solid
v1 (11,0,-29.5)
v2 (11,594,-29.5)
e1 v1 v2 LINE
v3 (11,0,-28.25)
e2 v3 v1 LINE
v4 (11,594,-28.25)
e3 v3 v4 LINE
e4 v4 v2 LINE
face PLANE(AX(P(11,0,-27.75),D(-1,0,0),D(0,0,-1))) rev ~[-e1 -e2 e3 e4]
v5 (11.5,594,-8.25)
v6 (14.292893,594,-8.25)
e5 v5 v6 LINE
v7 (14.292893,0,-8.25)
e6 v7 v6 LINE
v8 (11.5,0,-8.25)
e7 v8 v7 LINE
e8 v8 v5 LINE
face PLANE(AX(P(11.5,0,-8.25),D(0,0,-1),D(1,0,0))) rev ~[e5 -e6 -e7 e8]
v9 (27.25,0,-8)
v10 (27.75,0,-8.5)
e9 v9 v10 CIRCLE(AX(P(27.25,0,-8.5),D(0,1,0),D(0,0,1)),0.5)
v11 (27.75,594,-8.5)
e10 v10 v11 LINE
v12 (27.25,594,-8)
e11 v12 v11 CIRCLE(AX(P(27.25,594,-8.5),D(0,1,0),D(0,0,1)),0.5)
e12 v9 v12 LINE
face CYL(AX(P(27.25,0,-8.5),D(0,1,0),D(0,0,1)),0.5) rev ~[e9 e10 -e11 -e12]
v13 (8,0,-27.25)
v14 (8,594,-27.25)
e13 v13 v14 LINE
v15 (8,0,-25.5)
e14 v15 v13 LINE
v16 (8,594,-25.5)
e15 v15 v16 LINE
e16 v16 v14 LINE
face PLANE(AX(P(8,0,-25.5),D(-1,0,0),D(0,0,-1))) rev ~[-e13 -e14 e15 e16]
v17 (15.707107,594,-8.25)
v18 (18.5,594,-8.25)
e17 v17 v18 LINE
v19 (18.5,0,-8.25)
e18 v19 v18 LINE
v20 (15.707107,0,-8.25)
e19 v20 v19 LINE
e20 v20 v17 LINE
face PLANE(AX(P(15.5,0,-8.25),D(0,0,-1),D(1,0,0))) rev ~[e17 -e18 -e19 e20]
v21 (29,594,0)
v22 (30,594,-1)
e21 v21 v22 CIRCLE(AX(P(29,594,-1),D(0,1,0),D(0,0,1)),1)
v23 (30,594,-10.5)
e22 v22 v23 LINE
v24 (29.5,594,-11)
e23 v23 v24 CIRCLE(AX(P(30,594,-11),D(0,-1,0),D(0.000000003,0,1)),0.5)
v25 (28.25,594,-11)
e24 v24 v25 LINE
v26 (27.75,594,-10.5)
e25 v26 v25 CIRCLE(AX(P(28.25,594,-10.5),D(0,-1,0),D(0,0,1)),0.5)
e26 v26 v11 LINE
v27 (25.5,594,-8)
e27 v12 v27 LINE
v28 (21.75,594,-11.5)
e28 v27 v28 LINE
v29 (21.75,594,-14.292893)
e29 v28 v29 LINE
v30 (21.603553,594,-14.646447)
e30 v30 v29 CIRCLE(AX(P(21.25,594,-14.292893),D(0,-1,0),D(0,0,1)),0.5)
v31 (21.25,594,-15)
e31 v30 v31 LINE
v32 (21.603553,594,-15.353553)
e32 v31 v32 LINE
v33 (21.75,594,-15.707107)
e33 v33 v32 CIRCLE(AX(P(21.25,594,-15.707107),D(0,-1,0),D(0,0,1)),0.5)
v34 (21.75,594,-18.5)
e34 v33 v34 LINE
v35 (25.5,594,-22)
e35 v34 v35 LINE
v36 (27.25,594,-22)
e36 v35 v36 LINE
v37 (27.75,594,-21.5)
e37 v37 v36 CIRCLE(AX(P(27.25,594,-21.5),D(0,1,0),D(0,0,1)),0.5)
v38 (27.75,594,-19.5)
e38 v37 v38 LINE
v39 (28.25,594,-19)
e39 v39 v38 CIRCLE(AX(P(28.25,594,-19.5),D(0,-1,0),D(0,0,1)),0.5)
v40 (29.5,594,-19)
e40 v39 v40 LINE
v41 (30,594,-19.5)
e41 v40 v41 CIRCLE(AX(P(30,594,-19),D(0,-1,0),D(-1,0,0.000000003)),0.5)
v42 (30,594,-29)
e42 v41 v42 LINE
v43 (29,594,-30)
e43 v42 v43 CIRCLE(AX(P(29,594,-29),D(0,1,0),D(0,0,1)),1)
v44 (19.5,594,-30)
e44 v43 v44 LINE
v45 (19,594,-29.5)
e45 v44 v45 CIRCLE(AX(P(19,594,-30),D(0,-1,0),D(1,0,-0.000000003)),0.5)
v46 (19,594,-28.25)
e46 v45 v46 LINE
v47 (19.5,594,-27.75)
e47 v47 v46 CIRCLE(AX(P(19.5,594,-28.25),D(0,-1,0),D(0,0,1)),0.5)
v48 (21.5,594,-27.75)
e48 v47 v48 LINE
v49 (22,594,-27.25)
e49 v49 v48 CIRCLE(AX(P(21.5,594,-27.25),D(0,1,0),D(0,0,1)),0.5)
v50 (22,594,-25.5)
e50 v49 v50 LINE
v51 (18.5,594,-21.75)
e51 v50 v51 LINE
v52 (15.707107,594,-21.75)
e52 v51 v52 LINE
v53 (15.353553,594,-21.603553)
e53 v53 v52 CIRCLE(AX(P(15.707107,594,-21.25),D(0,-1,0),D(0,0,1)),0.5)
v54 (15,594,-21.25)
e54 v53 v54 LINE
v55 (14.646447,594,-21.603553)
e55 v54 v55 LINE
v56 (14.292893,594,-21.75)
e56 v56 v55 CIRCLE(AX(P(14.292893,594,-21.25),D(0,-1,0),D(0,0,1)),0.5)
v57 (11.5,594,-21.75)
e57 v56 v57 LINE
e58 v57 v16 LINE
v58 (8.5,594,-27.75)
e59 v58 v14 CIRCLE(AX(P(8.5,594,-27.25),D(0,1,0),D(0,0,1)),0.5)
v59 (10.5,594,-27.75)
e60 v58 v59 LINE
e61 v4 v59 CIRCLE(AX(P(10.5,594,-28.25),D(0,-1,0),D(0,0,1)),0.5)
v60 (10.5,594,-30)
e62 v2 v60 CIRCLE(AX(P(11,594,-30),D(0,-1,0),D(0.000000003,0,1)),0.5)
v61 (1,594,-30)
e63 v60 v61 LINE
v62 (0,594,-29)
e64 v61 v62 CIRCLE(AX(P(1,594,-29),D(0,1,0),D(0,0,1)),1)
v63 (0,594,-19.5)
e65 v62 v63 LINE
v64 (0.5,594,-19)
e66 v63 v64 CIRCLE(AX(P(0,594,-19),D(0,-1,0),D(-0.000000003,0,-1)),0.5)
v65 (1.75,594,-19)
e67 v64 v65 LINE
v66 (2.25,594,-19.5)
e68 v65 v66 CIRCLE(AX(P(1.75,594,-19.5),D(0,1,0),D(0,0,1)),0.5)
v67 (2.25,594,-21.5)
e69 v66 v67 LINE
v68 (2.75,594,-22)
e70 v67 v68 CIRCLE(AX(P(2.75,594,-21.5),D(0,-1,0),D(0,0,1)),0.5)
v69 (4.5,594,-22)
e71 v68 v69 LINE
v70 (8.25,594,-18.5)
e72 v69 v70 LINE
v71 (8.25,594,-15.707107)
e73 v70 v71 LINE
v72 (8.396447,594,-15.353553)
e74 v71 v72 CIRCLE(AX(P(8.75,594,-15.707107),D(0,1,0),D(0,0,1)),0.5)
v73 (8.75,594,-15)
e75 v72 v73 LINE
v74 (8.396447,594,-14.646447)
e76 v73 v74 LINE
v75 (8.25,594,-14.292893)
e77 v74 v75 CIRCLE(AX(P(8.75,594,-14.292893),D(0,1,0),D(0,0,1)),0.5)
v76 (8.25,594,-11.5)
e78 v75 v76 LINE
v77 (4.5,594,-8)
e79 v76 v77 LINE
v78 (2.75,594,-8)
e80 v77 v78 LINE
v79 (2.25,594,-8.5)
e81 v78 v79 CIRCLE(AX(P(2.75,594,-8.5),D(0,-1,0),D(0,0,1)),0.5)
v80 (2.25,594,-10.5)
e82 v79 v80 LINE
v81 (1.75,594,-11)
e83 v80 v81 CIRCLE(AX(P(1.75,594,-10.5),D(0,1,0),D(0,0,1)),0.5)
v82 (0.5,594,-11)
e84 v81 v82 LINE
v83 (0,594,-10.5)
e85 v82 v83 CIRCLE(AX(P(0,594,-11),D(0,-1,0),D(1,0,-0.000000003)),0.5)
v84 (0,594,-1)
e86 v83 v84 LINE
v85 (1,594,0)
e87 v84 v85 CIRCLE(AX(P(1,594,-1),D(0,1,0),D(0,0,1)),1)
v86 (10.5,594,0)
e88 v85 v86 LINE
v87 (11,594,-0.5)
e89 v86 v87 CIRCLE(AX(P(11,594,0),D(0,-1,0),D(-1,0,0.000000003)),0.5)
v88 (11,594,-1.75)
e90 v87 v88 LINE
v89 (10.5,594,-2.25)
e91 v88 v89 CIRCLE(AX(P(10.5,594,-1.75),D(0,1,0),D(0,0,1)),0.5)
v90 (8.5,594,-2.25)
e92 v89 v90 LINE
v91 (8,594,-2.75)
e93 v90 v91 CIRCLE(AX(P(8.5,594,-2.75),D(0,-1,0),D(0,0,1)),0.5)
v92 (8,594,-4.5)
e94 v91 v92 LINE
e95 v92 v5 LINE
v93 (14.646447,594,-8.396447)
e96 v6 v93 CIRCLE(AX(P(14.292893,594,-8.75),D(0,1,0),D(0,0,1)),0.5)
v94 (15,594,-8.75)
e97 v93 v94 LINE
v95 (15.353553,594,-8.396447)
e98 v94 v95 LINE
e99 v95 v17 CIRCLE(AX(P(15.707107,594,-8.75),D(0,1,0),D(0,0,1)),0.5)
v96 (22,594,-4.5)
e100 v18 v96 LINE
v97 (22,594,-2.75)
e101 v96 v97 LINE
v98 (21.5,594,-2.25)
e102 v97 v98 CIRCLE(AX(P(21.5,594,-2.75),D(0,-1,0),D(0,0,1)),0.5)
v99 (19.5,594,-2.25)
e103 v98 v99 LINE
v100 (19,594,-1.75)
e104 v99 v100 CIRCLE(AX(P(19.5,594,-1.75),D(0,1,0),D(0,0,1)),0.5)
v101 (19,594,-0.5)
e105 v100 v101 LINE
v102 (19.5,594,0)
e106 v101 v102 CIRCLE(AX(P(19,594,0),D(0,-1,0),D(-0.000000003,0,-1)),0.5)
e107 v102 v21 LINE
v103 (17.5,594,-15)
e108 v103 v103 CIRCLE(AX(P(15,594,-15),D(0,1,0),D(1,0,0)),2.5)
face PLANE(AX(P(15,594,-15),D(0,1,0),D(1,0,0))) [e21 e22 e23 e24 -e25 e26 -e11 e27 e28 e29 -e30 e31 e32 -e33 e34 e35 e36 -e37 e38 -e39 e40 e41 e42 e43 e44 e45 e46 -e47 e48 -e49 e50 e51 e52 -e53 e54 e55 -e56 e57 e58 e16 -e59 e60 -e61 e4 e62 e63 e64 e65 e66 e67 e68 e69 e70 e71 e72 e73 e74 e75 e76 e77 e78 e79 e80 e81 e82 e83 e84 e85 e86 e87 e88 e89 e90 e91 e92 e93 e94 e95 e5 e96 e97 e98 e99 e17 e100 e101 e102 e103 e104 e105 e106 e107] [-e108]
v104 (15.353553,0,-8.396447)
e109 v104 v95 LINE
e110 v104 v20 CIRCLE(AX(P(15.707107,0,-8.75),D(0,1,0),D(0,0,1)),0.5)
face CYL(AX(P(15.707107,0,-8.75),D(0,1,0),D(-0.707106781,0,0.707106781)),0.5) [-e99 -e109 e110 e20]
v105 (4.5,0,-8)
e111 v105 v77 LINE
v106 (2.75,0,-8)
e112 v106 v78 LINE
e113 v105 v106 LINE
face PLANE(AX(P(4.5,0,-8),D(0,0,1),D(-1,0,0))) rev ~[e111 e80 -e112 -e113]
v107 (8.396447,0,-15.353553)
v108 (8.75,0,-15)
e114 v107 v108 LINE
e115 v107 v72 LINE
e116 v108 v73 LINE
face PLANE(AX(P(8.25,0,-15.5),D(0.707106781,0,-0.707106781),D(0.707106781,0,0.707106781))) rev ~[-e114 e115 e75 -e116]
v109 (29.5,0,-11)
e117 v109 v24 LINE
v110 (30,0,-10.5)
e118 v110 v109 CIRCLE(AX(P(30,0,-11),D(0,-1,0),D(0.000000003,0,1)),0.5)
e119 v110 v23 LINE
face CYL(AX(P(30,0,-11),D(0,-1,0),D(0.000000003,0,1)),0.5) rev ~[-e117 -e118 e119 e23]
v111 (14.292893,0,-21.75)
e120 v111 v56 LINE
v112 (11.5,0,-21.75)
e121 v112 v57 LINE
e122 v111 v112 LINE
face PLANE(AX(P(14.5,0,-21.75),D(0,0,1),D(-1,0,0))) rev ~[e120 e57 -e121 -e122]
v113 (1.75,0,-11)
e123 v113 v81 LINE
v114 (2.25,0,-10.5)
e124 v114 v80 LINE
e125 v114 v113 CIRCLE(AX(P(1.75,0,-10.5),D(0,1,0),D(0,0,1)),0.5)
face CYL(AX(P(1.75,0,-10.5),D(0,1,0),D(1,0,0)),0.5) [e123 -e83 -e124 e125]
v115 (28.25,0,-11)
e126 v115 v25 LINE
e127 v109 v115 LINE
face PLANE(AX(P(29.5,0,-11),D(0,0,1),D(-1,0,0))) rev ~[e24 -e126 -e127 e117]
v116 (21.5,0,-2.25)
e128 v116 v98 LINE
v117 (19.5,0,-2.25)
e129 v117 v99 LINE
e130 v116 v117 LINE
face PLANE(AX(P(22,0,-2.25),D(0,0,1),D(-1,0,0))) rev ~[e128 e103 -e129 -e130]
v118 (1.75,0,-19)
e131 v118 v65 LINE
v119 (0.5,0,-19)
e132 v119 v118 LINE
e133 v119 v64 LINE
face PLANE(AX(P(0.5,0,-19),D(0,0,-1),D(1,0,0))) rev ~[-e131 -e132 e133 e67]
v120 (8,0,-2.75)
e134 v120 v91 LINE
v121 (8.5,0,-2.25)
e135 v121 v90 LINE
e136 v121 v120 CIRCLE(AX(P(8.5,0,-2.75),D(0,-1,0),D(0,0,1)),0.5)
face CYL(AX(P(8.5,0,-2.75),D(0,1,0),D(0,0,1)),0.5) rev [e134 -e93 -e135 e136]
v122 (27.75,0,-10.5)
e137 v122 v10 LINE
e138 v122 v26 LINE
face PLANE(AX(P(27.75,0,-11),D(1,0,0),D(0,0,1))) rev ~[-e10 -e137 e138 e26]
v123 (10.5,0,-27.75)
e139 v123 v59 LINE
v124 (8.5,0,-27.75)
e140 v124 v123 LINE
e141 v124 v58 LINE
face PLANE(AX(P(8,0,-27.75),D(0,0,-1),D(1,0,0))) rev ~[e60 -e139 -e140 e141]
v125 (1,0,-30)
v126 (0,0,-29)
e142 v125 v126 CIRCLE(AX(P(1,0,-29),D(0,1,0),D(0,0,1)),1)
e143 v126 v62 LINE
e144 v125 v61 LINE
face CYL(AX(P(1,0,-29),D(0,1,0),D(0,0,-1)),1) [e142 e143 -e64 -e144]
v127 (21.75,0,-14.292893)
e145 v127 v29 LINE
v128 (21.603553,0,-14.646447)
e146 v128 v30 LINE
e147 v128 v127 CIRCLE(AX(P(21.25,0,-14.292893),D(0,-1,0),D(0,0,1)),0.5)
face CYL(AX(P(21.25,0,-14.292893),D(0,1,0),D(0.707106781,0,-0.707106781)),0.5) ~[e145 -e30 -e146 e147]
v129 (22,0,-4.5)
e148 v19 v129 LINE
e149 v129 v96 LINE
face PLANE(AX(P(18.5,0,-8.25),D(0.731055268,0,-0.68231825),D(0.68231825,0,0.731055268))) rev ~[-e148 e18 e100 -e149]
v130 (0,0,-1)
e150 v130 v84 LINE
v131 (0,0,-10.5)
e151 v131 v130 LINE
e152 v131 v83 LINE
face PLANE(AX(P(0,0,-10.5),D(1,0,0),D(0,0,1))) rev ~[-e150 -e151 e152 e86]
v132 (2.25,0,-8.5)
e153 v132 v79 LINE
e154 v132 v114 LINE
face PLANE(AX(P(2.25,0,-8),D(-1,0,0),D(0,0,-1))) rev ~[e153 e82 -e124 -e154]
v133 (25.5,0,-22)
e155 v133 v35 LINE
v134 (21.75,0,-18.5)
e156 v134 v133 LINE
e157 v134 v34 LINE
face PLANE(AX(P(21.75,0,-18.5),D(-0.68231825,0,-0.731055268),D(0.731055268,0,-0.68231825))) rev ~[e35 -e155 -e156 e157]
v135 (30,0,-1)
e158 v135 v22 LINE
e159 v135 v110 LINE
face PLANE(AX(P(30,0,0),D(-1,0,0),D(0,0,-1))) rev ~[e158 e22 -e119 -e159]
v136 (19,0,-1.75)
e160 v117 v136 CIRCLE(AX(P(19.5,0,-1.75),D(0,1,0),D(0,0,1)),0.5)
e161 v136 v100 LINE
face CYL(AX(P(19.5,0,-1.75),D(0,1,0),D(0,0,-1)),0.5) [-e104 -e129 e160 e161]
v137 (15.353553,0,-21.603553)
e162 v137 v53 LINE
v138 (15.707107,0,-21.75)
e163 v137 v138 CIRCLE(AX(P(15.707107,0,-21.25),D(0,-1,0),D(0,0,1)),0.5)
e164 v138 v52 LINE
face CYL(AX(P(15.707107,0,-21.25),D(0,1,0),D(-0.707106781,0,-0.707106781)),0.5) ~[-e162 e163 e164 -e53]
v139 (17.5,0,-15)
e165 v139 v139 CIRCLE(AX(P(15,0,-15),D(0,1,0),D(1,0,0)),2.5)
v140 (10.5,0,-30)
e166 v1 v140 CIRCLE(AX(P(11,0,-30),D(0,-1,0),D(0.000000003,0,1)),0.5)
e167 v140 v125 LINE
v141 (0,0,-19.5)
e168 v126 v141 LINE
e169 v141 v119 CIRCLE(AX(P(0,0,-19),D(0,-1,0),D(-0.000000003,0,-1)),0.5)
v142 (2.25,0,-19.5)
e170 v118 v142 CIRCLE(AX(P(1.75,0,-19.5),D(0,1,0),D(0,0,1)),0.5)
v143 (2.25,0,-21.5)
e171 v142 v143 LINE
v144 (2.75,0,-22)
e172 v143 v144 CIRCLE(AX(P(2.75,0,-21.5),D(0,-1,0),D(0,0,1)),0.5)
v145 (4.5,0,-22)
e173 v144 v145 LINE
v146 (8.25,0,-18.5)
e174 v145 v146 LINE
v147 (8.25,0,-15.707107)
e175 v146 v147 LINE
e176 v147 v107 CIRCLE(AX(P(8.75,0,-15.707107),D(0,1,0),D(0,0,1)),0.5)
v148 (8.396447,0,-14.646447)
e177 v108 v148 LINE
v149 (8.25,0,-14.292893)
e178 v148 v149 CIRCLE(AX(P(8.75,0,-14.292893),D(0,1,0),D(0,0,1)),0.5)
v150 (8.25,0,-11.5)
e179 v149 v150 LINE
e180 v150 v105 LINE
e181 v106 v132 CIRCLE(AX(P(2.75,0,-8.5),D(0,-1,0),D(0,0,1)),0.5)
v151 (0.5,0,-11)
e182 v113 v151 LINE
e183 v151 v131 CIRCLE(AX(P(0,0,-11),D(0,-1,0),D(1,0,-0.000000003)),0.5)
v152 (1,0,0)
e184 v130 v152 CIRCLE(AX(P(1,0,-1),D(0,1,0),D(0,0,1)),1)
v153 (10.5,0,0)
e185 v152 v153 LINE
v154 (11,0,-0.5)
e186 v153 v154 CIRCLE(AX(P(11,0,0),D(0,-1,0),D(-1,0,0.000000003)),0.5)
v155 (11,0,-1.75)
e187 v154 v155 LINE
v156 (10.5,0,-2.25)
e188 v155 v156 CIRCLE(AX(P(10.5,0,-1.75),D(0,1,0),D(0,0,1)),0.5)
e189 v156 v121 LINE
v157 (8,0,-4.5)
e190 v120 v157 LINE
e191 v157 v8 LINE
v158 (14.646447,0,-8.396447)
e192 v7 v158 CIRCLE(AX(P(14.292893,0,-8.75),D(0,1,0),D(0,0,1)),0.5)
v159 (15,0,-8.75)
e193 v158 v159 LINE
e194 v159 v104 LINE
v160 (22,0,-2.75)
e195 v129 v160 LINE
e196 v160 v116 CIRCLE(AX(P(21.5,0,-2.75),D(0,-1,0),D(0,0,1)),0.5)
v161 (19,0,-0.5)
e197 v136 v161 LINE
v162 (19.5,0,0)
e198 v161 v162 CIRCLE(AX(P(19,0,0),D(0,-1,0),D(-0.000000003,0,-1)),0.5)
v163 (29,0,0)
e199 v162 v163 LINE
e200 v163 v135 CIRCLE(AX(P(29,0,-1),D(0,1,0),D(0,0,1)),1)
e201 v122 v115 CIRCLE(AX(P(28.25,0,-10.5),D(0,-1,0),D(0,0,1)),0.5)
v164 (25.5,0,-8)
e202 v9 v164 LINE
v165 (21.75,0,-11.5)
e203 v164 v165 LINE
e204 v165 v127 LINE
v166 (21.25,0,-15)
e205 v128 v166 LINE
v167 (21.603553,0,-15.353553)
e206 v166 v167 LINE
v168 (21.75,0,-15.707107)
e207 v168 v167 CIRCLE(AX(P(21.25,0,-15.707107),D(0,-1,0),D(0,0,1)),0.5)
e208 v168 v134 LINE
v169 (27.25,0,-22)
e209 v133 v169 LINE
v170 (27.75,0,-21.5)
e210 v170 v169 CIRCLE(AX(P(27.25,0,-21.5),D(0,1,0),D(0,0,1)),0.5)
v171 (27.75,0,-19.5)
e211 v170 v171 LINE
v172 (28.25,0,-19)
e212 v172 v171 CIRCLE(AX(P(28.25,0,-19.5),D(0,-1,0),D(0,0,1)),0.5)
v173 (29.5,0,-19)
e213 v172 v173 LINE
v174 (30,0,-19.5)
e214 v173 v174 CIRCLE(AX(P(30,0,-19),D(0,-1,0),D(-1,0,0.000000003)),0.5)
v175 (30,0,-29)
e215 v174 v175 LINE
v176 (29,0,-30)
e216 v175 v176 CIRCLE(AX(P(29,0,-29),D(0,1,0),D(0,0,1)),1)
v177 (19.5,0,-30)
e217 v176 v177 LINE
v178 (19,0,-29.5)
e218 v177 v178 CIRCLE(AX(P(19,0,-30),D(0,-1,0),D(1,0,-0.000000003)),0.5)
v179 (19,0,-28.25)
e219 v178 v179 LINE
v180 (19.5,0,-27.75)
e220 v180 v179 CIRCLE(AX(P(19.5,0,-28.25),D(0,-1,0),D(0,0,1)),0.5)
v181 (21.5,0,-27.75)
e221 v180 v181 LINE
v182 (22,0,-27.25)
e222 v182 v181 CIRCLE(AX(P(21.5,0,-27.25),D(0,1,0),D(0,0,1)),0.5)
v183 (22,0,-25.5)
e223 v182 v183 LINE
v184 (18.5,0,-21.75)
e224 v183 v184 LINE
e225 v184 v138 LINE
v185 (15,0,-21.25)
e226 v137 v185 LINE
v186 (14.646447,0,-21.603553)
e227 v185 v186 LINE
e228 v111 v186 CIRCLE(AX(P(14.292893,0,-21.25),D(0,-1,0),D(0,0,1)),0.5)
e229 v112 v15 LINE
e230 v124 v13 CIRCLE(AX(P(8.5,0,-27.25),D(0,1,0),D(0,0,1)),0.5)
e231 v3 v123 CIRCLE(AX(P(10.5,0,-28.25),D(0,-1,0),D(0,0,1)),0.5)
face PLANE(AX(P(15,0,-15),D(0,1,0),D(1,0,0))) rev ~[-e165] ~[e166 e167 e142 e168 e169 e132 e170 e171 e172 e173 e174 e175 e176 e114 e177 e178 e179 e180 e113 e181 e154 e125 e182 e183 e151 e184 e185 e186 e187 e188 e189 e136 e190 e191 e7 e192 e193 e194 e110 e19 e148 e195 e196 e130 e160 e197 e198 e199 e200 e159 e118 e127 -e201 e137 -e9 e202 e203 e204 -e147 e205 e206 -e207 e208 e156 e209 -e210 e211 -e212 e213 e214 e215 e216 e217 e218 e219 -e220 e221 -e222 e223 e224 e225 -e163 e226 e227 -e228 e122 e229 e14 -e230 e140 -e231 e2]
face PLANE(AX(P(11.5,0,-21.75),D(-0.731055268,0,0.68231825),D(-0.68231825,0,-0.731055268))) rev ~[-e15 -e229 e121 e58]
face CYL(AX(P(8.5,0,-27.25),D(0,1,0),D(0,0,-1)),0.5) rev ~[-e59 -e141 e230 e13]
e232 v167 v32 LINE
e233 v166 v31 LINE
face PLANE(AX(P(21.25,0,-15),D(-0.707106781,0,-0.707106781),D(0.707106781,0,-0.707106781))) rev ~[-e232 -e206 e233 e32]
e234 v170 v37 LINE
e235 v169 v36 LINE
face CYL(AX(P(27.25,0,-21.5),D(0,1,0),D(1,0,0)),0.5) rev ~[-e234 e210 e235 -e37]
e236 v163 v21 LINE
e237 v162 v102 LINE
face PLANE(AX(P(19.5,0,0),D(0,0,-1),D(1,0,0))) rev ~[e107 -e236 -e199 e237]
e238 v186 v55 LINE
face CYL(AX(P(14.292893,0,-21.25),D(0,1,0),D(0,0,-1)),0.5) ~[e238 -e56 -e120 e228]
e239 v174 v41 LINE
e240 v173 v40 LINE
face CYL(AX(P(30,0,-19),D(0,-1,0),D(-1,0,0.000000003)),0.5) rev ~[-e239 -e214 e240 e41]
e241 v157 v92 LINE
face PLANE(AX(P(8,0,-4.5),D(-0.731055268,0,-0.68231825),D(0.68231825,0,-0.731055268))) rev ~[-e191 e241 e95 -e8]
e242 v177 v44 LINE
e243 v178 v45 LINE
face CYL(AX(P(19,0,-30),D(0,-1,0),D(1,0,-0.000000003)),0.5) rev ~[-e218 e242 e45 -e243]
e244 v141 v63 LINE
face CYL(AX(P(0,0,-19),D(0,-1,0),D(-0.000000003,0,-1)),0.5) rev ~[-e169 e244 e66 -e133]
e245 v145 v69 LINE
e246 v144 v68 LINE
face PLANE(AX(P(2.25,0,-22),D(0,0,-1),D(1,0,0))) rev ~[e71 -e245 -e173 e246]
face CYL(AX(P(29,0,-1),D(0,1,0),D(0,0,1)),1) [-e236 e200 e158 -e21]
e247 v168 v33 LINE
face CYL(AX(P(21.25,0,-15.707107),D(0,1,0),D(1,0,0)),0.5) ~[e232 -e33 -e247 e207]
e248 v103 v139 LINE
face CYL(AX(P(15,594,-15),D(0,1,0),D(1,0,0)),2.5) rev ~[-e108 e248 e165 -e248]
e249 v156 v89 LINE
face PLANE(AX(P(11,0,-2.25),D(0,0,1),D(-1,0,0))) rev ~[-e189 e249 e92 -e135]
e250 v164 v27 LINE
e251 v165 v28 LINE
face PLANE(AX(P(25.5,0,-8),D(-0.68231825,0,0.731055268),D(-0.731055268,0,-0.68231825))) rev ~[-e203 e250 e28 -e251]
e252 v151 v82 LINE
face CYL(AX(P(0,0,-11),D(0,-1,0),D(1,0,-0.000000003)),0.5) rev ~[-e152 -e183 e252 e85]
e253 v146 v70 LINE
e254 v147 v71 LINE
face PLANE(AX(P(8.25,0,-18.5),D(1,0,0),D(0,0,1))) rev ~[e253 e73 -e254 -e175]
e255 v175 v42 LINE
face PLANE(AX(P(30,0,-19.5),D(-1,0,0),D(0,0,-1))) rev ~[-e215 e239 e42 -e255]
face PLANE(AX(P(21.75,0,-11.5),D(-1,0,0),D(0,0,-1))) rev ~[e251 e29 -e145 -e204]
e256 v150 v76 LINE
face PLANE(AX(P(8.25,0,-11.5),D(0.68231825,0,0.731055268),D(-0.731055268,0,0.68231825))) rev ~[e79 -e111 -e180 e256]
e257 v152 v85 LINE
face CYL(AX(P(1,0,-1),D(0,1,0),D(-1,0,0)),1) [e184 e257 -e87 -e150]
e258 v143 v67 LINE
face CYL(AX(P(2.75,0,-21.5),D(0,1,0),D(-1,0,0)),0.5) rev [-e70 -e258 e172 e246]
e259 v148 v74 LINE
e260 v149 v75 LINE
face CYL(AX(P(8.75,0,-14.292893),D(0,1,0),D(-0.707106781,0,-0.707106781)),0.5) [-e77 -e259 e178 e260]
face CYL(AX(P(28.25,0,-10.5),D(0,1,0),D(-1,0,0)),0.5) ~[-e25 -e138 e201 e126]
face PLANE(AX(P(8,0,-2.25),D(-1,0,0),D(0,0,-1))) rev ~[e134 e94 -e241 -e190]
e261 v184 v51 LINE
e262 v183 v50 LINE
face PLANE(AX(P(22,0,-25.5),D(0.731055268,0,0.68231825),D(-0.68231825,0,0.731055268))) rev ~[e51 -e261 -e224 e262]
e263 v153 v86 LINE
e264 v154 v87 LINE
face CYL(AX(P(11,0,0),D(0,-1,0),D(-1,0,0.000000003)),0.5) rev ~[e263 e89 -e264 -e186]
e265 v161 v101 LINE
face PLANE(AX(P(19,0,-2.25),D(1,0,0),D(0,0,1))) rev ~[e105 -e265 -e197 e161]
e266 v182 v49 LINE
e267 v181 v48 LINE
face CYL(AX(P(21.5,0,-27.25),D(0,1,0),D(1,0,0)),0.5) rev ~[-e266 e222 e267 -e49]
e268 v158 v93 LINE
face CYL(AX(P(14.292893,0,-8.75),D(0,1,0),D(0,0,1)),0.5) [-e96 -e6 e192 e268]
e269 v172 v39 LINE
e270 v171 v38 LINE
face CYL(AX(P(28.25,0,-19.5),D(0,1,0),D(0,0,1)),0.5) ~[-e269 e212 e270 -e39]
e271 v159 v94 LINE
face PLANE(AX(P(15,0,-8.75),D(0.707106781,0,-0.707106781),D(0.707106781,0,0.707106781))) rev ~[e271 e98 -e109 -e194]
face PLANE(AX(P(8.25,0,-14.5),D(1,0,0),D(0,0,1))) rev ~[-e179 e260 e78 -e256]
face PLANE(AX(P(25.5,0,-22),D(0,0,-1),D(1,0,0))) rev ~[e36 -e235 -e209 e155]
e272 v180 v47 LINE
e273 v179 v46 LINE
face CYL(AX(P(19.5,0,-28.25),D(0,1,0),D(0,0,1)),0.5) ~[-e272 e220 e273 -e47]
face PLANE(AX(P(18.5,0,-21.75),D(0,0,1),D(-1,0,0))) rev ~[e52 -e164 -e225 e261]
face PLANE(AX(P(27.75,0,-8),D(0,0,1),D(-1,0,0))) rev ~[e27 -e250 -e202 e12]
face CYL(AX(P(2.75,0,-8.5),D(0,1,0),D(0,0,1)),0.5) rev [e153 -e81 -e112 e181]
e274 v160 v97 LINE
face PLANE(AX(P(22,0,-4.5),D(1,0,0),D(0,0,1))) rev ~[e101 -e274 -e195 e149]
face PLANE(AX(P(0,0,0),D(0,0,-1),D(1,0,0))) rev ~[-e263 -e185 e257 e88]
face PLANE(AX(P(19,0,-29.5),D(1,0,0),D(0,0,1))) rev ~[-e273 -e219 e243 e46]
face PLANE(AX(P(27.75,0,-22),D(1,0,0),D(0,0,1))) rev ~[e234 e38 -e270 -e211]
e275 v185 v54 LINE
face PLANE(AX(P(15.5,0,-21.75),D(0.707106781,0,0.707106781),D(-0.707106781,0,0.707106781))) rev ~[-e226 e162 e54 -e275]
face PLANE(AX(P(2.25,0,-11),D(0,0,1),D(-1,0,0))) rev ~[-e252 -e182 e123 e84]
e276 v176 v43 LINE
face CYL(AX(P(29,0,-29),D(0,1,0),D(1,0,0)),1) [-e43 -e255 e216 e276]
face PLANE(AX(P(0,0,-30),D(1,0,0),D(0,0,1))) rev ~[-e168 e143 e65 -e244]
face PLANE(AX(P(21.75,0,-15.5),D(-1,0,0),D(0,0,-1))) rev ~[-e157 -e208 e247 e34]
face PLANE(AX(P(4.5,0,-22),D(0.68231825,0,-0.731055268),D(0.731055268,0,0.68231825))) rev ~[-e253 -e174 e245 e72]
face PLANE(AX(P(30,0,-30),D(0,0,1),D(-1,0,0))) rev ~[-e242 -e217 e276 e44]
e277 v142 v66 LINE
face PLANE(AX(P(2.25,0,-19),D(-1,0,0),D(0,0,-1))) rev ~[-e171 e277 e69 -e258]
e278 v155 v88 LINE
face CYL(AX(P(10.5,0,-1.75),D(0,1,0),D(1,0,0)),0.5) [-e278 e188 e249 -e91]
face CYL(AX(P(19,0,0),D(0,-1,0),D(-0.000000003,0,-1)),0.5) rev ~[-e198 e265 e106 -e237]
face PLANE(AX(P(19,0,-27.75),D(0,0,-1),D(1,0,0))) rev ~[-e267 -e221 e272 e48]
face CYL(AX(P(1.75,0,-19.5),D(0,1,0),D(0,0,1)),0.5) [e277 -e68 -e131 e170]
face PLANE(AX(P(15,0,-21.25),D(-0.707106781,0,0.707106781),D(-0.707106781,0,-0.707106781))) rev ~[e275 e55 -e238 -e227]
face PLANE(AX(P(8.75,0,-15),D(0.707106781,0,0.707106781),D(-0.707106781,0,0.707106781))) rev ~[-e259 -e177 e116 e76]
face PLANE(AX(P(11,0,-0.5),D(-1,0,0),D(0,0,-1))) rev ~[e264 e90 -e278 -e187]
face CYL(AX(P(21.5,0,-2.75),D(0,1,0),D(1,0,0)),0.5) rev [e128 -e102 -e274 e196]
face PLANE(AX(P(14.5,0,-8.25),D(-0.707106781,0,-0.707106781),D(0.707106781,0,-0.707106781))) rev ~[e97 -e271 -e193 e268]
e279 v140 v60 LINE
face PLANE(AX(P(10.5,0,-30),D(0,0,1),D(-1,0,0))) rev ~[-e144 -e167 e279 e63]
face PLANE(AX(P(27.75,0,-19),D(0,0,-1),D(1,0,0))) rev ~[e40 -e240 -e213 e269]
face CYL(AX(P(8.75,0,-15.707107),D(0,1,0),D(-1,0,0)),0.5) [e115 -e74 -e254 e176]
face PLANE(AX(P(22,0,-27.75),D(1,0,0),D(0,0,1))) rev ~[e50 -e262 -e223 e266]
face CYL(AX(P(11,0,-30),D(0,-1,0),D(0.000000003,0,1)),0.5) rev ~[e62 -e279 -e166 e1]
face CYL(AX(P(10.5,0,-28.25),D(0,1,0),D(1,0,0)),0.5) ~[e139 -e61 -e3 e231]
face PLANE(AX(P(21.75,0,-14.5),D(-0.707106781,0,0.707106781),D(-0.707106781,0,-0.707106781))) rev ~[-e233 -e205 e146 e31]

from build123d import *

# Parameters (mm, degrees)
BOSS_EXTRUDE1_DEPTH = 594
FILLET1_R           = 1
SKETCH4_R           = 2.5
CUT_EXTRUDE1_DEPTH  = 595
FILLET2_R           = 0.5


with BuildPart() as part:
    # Sketch3 → Boss-Extrude1 (new body)
    with BuildSketch(Plane(origin=(0, 0, 0), x_dir=(1, 0, 0), z_dir=(0, 1, 0))):
        with BuildLine():
            Line((11, 27.75), (11, 29.5))
            ThreePointArc((11, 29.5), (10.646446609, 29.646446609), (10.5, 30))
            Line((10.5, 30), (0, 30))
            Line((0, 30), (0, 19.5))
            ThreePointArc((0, 19.5), (0.353553391, 19.353553391), (0.5, 19))
            Line((0.5, 19), (2.25, 19))
            Line((2.25, 19), (2.25, 22))
            Line((2.25, 22), (4.5, 22))
            Line((4.5, 22), (8.25, 18.5))
            Line((8.25, 18.5), (8.25, 15.5))
            Line((8.25, 15.5), (8.75, 15))
            Line((8.75, 15), (8.25, 14.5))
            Line((8.25, 14.5), (8.25, 11.5))
            Line((8.25, 11.5), (4.5, 8))
            Line((4.5, 8), (2.25, 8))
            Line((2.25, 8), (2.25, 11))
            Line((2.25, 11), (0.5, 11))
            ThreePointArc((0.5, 11), (0.353553391, 10.646446609), (0, 10.5))
            Line((0, 10.5), (0, 0))
            Line((0, 0), (10.5, 0))
            ThreePointArc((10.5, 0), (10.646446609, 0.353553391), (11, 0.5))
            Line((11, 0.5), (11, 2.25))
            Line((11, 2.25), (8, 2.25))
            Line((8, 2.25), (8, 4.5))
            Line((8, 4.5), (11.5, 8.25))
            Line((11.5, 8.25), (14.5, 8.25))
            Line((14.5, 8.25), (15, 8.75))
            Line((15, 8.75), (15.5, 8.25))
            Line((15.5, 8.25), (18.5, 8.25))
            Line((18.5, 8.25), (22, 4.5))
            Line((22, 4.5), (22, 2.25))
            Line((22, 2.25), (19, 2.25))
            Line((19, 2.25), (19, 0.5))
            ThreePointArc((19, 0.5), (19.353553391, 0.353553391), (19.5, 0))
            Line((19.5, 0), (30, 0))
            Line((30, 0), (30, 10.5))
            ThreePointArc((30, 10.5), (29.646446609, 10.646446609), (29.5, 11))
            Line((29.5, 11), (27.75, 11))
            Line((27.75, 11), (27.75, 8))
            Line((27.75, 8), (25.5, 8))
            Line((25.5, 8), (21.75, 11.5))
            Line((21.75, 11.5), (21.75, 14.5))
            Line((21.75, 14.5), (21.25, 15))
            Line((21.25, 15), (21.75, 15.5))
            Line((21.75, 15.5), (21.75, 18.5))
            Line((21.75, 18.5), (25.5, 22))
            Line((25.5, 22), (27.75, 22))
            Line((27.75, 22), (27.75, 19))
            Line((27.75, 19), (29.5, 19))
            ThreePointArc((29.5, 19), (29.646446609, 19.353553391), (30, 19.5))
            Line((30, 19.5), (30, 30))
            Line((30, 30), (19.5, 30))
            ThreePointArc((19.5, 30), (19.353553391, 29.646446609), (19, 29.5))
            Line((19, 29.5), (19, 27.75))
            Line((19, 27.75), (22, 27.75))
            Line((22, 27.75), (22, 25.5))
            Line((22, 25.5), (18.5, 21.75))
            Line((18.5, 21.75), (15.5, 21.75))
            Line((15.5, 21.75), (15, 21.25))
            Line((15, 21.25), (14.5, 21.75))
            Line((14.5, 21.75), (11.5, 21.75))
            Line((11.5, 21.75), (8, 25.5))
            Line((8, 25.5), (8, 27.75))
            Line((8, 27.75), (11, 27.75))
        make_face()
    extrude(amount=BOSS_EXTRUDE1_DEPTH)

    # Fillet1
    fillet1_edges = [part.edges().sort_by_distance(p)[0] for p in [
        (30, 297, 0),
        (0, 297, 0),
        (0, 297, -30),
        (30, 297, -30),
    ]]
    fillet(fillet1_edges, radius=FILLET1_R)

    # Sketch4 → Cut-Extrude1 (cut, through all)
    with BuildSketch(Plane(origin=(0, 594, 0), x_dir=(1, 0, 0), z_dir=(0, 1, 0))):
        with Locations((15, 15)):
            Circle(SKETCH4_R)
    extrude(amount=-CUT_EXTRUDE1_DEPTH, mode=Mode.SUBTRACT)

    # Fillet2
    fillet2_edges = [part.edges().sort_by_distance(p)[0] for p in [
        (27.75, 297, -19),
        (27.75, 297, -22),
        (21.75, 297, -15.5),
        (21.75, 297, -14.5),
        (27.75, 297, -8),
        (27.75, 297, -11),
        (19, 297, -2.25),
        (22, 297, -2.25),
        (15.5, 297, -8.25),
        (14.5, 297, -8.25),
        (8, 297, -2.25),
        (11, 297, -2.25),
        (2.25, 297, -11),
        (2.25, 297, -8),
        (8.25, 297, -14.5),
        (8.25, 297, -15.5),
        (2.25, 297, -22),
        (2.25, 297, -19),
        (11, 297, -27.75),
        (8, 297, -27.75),
        (14.5, 297, -21.75),
        (15.5, 297, -21.75),
        (22, 297, -27.75),
        (19, 297, -27.75),
    ]]
    fillet(fillet2_edges, radius=FILLET2_R)


solid = part.part
